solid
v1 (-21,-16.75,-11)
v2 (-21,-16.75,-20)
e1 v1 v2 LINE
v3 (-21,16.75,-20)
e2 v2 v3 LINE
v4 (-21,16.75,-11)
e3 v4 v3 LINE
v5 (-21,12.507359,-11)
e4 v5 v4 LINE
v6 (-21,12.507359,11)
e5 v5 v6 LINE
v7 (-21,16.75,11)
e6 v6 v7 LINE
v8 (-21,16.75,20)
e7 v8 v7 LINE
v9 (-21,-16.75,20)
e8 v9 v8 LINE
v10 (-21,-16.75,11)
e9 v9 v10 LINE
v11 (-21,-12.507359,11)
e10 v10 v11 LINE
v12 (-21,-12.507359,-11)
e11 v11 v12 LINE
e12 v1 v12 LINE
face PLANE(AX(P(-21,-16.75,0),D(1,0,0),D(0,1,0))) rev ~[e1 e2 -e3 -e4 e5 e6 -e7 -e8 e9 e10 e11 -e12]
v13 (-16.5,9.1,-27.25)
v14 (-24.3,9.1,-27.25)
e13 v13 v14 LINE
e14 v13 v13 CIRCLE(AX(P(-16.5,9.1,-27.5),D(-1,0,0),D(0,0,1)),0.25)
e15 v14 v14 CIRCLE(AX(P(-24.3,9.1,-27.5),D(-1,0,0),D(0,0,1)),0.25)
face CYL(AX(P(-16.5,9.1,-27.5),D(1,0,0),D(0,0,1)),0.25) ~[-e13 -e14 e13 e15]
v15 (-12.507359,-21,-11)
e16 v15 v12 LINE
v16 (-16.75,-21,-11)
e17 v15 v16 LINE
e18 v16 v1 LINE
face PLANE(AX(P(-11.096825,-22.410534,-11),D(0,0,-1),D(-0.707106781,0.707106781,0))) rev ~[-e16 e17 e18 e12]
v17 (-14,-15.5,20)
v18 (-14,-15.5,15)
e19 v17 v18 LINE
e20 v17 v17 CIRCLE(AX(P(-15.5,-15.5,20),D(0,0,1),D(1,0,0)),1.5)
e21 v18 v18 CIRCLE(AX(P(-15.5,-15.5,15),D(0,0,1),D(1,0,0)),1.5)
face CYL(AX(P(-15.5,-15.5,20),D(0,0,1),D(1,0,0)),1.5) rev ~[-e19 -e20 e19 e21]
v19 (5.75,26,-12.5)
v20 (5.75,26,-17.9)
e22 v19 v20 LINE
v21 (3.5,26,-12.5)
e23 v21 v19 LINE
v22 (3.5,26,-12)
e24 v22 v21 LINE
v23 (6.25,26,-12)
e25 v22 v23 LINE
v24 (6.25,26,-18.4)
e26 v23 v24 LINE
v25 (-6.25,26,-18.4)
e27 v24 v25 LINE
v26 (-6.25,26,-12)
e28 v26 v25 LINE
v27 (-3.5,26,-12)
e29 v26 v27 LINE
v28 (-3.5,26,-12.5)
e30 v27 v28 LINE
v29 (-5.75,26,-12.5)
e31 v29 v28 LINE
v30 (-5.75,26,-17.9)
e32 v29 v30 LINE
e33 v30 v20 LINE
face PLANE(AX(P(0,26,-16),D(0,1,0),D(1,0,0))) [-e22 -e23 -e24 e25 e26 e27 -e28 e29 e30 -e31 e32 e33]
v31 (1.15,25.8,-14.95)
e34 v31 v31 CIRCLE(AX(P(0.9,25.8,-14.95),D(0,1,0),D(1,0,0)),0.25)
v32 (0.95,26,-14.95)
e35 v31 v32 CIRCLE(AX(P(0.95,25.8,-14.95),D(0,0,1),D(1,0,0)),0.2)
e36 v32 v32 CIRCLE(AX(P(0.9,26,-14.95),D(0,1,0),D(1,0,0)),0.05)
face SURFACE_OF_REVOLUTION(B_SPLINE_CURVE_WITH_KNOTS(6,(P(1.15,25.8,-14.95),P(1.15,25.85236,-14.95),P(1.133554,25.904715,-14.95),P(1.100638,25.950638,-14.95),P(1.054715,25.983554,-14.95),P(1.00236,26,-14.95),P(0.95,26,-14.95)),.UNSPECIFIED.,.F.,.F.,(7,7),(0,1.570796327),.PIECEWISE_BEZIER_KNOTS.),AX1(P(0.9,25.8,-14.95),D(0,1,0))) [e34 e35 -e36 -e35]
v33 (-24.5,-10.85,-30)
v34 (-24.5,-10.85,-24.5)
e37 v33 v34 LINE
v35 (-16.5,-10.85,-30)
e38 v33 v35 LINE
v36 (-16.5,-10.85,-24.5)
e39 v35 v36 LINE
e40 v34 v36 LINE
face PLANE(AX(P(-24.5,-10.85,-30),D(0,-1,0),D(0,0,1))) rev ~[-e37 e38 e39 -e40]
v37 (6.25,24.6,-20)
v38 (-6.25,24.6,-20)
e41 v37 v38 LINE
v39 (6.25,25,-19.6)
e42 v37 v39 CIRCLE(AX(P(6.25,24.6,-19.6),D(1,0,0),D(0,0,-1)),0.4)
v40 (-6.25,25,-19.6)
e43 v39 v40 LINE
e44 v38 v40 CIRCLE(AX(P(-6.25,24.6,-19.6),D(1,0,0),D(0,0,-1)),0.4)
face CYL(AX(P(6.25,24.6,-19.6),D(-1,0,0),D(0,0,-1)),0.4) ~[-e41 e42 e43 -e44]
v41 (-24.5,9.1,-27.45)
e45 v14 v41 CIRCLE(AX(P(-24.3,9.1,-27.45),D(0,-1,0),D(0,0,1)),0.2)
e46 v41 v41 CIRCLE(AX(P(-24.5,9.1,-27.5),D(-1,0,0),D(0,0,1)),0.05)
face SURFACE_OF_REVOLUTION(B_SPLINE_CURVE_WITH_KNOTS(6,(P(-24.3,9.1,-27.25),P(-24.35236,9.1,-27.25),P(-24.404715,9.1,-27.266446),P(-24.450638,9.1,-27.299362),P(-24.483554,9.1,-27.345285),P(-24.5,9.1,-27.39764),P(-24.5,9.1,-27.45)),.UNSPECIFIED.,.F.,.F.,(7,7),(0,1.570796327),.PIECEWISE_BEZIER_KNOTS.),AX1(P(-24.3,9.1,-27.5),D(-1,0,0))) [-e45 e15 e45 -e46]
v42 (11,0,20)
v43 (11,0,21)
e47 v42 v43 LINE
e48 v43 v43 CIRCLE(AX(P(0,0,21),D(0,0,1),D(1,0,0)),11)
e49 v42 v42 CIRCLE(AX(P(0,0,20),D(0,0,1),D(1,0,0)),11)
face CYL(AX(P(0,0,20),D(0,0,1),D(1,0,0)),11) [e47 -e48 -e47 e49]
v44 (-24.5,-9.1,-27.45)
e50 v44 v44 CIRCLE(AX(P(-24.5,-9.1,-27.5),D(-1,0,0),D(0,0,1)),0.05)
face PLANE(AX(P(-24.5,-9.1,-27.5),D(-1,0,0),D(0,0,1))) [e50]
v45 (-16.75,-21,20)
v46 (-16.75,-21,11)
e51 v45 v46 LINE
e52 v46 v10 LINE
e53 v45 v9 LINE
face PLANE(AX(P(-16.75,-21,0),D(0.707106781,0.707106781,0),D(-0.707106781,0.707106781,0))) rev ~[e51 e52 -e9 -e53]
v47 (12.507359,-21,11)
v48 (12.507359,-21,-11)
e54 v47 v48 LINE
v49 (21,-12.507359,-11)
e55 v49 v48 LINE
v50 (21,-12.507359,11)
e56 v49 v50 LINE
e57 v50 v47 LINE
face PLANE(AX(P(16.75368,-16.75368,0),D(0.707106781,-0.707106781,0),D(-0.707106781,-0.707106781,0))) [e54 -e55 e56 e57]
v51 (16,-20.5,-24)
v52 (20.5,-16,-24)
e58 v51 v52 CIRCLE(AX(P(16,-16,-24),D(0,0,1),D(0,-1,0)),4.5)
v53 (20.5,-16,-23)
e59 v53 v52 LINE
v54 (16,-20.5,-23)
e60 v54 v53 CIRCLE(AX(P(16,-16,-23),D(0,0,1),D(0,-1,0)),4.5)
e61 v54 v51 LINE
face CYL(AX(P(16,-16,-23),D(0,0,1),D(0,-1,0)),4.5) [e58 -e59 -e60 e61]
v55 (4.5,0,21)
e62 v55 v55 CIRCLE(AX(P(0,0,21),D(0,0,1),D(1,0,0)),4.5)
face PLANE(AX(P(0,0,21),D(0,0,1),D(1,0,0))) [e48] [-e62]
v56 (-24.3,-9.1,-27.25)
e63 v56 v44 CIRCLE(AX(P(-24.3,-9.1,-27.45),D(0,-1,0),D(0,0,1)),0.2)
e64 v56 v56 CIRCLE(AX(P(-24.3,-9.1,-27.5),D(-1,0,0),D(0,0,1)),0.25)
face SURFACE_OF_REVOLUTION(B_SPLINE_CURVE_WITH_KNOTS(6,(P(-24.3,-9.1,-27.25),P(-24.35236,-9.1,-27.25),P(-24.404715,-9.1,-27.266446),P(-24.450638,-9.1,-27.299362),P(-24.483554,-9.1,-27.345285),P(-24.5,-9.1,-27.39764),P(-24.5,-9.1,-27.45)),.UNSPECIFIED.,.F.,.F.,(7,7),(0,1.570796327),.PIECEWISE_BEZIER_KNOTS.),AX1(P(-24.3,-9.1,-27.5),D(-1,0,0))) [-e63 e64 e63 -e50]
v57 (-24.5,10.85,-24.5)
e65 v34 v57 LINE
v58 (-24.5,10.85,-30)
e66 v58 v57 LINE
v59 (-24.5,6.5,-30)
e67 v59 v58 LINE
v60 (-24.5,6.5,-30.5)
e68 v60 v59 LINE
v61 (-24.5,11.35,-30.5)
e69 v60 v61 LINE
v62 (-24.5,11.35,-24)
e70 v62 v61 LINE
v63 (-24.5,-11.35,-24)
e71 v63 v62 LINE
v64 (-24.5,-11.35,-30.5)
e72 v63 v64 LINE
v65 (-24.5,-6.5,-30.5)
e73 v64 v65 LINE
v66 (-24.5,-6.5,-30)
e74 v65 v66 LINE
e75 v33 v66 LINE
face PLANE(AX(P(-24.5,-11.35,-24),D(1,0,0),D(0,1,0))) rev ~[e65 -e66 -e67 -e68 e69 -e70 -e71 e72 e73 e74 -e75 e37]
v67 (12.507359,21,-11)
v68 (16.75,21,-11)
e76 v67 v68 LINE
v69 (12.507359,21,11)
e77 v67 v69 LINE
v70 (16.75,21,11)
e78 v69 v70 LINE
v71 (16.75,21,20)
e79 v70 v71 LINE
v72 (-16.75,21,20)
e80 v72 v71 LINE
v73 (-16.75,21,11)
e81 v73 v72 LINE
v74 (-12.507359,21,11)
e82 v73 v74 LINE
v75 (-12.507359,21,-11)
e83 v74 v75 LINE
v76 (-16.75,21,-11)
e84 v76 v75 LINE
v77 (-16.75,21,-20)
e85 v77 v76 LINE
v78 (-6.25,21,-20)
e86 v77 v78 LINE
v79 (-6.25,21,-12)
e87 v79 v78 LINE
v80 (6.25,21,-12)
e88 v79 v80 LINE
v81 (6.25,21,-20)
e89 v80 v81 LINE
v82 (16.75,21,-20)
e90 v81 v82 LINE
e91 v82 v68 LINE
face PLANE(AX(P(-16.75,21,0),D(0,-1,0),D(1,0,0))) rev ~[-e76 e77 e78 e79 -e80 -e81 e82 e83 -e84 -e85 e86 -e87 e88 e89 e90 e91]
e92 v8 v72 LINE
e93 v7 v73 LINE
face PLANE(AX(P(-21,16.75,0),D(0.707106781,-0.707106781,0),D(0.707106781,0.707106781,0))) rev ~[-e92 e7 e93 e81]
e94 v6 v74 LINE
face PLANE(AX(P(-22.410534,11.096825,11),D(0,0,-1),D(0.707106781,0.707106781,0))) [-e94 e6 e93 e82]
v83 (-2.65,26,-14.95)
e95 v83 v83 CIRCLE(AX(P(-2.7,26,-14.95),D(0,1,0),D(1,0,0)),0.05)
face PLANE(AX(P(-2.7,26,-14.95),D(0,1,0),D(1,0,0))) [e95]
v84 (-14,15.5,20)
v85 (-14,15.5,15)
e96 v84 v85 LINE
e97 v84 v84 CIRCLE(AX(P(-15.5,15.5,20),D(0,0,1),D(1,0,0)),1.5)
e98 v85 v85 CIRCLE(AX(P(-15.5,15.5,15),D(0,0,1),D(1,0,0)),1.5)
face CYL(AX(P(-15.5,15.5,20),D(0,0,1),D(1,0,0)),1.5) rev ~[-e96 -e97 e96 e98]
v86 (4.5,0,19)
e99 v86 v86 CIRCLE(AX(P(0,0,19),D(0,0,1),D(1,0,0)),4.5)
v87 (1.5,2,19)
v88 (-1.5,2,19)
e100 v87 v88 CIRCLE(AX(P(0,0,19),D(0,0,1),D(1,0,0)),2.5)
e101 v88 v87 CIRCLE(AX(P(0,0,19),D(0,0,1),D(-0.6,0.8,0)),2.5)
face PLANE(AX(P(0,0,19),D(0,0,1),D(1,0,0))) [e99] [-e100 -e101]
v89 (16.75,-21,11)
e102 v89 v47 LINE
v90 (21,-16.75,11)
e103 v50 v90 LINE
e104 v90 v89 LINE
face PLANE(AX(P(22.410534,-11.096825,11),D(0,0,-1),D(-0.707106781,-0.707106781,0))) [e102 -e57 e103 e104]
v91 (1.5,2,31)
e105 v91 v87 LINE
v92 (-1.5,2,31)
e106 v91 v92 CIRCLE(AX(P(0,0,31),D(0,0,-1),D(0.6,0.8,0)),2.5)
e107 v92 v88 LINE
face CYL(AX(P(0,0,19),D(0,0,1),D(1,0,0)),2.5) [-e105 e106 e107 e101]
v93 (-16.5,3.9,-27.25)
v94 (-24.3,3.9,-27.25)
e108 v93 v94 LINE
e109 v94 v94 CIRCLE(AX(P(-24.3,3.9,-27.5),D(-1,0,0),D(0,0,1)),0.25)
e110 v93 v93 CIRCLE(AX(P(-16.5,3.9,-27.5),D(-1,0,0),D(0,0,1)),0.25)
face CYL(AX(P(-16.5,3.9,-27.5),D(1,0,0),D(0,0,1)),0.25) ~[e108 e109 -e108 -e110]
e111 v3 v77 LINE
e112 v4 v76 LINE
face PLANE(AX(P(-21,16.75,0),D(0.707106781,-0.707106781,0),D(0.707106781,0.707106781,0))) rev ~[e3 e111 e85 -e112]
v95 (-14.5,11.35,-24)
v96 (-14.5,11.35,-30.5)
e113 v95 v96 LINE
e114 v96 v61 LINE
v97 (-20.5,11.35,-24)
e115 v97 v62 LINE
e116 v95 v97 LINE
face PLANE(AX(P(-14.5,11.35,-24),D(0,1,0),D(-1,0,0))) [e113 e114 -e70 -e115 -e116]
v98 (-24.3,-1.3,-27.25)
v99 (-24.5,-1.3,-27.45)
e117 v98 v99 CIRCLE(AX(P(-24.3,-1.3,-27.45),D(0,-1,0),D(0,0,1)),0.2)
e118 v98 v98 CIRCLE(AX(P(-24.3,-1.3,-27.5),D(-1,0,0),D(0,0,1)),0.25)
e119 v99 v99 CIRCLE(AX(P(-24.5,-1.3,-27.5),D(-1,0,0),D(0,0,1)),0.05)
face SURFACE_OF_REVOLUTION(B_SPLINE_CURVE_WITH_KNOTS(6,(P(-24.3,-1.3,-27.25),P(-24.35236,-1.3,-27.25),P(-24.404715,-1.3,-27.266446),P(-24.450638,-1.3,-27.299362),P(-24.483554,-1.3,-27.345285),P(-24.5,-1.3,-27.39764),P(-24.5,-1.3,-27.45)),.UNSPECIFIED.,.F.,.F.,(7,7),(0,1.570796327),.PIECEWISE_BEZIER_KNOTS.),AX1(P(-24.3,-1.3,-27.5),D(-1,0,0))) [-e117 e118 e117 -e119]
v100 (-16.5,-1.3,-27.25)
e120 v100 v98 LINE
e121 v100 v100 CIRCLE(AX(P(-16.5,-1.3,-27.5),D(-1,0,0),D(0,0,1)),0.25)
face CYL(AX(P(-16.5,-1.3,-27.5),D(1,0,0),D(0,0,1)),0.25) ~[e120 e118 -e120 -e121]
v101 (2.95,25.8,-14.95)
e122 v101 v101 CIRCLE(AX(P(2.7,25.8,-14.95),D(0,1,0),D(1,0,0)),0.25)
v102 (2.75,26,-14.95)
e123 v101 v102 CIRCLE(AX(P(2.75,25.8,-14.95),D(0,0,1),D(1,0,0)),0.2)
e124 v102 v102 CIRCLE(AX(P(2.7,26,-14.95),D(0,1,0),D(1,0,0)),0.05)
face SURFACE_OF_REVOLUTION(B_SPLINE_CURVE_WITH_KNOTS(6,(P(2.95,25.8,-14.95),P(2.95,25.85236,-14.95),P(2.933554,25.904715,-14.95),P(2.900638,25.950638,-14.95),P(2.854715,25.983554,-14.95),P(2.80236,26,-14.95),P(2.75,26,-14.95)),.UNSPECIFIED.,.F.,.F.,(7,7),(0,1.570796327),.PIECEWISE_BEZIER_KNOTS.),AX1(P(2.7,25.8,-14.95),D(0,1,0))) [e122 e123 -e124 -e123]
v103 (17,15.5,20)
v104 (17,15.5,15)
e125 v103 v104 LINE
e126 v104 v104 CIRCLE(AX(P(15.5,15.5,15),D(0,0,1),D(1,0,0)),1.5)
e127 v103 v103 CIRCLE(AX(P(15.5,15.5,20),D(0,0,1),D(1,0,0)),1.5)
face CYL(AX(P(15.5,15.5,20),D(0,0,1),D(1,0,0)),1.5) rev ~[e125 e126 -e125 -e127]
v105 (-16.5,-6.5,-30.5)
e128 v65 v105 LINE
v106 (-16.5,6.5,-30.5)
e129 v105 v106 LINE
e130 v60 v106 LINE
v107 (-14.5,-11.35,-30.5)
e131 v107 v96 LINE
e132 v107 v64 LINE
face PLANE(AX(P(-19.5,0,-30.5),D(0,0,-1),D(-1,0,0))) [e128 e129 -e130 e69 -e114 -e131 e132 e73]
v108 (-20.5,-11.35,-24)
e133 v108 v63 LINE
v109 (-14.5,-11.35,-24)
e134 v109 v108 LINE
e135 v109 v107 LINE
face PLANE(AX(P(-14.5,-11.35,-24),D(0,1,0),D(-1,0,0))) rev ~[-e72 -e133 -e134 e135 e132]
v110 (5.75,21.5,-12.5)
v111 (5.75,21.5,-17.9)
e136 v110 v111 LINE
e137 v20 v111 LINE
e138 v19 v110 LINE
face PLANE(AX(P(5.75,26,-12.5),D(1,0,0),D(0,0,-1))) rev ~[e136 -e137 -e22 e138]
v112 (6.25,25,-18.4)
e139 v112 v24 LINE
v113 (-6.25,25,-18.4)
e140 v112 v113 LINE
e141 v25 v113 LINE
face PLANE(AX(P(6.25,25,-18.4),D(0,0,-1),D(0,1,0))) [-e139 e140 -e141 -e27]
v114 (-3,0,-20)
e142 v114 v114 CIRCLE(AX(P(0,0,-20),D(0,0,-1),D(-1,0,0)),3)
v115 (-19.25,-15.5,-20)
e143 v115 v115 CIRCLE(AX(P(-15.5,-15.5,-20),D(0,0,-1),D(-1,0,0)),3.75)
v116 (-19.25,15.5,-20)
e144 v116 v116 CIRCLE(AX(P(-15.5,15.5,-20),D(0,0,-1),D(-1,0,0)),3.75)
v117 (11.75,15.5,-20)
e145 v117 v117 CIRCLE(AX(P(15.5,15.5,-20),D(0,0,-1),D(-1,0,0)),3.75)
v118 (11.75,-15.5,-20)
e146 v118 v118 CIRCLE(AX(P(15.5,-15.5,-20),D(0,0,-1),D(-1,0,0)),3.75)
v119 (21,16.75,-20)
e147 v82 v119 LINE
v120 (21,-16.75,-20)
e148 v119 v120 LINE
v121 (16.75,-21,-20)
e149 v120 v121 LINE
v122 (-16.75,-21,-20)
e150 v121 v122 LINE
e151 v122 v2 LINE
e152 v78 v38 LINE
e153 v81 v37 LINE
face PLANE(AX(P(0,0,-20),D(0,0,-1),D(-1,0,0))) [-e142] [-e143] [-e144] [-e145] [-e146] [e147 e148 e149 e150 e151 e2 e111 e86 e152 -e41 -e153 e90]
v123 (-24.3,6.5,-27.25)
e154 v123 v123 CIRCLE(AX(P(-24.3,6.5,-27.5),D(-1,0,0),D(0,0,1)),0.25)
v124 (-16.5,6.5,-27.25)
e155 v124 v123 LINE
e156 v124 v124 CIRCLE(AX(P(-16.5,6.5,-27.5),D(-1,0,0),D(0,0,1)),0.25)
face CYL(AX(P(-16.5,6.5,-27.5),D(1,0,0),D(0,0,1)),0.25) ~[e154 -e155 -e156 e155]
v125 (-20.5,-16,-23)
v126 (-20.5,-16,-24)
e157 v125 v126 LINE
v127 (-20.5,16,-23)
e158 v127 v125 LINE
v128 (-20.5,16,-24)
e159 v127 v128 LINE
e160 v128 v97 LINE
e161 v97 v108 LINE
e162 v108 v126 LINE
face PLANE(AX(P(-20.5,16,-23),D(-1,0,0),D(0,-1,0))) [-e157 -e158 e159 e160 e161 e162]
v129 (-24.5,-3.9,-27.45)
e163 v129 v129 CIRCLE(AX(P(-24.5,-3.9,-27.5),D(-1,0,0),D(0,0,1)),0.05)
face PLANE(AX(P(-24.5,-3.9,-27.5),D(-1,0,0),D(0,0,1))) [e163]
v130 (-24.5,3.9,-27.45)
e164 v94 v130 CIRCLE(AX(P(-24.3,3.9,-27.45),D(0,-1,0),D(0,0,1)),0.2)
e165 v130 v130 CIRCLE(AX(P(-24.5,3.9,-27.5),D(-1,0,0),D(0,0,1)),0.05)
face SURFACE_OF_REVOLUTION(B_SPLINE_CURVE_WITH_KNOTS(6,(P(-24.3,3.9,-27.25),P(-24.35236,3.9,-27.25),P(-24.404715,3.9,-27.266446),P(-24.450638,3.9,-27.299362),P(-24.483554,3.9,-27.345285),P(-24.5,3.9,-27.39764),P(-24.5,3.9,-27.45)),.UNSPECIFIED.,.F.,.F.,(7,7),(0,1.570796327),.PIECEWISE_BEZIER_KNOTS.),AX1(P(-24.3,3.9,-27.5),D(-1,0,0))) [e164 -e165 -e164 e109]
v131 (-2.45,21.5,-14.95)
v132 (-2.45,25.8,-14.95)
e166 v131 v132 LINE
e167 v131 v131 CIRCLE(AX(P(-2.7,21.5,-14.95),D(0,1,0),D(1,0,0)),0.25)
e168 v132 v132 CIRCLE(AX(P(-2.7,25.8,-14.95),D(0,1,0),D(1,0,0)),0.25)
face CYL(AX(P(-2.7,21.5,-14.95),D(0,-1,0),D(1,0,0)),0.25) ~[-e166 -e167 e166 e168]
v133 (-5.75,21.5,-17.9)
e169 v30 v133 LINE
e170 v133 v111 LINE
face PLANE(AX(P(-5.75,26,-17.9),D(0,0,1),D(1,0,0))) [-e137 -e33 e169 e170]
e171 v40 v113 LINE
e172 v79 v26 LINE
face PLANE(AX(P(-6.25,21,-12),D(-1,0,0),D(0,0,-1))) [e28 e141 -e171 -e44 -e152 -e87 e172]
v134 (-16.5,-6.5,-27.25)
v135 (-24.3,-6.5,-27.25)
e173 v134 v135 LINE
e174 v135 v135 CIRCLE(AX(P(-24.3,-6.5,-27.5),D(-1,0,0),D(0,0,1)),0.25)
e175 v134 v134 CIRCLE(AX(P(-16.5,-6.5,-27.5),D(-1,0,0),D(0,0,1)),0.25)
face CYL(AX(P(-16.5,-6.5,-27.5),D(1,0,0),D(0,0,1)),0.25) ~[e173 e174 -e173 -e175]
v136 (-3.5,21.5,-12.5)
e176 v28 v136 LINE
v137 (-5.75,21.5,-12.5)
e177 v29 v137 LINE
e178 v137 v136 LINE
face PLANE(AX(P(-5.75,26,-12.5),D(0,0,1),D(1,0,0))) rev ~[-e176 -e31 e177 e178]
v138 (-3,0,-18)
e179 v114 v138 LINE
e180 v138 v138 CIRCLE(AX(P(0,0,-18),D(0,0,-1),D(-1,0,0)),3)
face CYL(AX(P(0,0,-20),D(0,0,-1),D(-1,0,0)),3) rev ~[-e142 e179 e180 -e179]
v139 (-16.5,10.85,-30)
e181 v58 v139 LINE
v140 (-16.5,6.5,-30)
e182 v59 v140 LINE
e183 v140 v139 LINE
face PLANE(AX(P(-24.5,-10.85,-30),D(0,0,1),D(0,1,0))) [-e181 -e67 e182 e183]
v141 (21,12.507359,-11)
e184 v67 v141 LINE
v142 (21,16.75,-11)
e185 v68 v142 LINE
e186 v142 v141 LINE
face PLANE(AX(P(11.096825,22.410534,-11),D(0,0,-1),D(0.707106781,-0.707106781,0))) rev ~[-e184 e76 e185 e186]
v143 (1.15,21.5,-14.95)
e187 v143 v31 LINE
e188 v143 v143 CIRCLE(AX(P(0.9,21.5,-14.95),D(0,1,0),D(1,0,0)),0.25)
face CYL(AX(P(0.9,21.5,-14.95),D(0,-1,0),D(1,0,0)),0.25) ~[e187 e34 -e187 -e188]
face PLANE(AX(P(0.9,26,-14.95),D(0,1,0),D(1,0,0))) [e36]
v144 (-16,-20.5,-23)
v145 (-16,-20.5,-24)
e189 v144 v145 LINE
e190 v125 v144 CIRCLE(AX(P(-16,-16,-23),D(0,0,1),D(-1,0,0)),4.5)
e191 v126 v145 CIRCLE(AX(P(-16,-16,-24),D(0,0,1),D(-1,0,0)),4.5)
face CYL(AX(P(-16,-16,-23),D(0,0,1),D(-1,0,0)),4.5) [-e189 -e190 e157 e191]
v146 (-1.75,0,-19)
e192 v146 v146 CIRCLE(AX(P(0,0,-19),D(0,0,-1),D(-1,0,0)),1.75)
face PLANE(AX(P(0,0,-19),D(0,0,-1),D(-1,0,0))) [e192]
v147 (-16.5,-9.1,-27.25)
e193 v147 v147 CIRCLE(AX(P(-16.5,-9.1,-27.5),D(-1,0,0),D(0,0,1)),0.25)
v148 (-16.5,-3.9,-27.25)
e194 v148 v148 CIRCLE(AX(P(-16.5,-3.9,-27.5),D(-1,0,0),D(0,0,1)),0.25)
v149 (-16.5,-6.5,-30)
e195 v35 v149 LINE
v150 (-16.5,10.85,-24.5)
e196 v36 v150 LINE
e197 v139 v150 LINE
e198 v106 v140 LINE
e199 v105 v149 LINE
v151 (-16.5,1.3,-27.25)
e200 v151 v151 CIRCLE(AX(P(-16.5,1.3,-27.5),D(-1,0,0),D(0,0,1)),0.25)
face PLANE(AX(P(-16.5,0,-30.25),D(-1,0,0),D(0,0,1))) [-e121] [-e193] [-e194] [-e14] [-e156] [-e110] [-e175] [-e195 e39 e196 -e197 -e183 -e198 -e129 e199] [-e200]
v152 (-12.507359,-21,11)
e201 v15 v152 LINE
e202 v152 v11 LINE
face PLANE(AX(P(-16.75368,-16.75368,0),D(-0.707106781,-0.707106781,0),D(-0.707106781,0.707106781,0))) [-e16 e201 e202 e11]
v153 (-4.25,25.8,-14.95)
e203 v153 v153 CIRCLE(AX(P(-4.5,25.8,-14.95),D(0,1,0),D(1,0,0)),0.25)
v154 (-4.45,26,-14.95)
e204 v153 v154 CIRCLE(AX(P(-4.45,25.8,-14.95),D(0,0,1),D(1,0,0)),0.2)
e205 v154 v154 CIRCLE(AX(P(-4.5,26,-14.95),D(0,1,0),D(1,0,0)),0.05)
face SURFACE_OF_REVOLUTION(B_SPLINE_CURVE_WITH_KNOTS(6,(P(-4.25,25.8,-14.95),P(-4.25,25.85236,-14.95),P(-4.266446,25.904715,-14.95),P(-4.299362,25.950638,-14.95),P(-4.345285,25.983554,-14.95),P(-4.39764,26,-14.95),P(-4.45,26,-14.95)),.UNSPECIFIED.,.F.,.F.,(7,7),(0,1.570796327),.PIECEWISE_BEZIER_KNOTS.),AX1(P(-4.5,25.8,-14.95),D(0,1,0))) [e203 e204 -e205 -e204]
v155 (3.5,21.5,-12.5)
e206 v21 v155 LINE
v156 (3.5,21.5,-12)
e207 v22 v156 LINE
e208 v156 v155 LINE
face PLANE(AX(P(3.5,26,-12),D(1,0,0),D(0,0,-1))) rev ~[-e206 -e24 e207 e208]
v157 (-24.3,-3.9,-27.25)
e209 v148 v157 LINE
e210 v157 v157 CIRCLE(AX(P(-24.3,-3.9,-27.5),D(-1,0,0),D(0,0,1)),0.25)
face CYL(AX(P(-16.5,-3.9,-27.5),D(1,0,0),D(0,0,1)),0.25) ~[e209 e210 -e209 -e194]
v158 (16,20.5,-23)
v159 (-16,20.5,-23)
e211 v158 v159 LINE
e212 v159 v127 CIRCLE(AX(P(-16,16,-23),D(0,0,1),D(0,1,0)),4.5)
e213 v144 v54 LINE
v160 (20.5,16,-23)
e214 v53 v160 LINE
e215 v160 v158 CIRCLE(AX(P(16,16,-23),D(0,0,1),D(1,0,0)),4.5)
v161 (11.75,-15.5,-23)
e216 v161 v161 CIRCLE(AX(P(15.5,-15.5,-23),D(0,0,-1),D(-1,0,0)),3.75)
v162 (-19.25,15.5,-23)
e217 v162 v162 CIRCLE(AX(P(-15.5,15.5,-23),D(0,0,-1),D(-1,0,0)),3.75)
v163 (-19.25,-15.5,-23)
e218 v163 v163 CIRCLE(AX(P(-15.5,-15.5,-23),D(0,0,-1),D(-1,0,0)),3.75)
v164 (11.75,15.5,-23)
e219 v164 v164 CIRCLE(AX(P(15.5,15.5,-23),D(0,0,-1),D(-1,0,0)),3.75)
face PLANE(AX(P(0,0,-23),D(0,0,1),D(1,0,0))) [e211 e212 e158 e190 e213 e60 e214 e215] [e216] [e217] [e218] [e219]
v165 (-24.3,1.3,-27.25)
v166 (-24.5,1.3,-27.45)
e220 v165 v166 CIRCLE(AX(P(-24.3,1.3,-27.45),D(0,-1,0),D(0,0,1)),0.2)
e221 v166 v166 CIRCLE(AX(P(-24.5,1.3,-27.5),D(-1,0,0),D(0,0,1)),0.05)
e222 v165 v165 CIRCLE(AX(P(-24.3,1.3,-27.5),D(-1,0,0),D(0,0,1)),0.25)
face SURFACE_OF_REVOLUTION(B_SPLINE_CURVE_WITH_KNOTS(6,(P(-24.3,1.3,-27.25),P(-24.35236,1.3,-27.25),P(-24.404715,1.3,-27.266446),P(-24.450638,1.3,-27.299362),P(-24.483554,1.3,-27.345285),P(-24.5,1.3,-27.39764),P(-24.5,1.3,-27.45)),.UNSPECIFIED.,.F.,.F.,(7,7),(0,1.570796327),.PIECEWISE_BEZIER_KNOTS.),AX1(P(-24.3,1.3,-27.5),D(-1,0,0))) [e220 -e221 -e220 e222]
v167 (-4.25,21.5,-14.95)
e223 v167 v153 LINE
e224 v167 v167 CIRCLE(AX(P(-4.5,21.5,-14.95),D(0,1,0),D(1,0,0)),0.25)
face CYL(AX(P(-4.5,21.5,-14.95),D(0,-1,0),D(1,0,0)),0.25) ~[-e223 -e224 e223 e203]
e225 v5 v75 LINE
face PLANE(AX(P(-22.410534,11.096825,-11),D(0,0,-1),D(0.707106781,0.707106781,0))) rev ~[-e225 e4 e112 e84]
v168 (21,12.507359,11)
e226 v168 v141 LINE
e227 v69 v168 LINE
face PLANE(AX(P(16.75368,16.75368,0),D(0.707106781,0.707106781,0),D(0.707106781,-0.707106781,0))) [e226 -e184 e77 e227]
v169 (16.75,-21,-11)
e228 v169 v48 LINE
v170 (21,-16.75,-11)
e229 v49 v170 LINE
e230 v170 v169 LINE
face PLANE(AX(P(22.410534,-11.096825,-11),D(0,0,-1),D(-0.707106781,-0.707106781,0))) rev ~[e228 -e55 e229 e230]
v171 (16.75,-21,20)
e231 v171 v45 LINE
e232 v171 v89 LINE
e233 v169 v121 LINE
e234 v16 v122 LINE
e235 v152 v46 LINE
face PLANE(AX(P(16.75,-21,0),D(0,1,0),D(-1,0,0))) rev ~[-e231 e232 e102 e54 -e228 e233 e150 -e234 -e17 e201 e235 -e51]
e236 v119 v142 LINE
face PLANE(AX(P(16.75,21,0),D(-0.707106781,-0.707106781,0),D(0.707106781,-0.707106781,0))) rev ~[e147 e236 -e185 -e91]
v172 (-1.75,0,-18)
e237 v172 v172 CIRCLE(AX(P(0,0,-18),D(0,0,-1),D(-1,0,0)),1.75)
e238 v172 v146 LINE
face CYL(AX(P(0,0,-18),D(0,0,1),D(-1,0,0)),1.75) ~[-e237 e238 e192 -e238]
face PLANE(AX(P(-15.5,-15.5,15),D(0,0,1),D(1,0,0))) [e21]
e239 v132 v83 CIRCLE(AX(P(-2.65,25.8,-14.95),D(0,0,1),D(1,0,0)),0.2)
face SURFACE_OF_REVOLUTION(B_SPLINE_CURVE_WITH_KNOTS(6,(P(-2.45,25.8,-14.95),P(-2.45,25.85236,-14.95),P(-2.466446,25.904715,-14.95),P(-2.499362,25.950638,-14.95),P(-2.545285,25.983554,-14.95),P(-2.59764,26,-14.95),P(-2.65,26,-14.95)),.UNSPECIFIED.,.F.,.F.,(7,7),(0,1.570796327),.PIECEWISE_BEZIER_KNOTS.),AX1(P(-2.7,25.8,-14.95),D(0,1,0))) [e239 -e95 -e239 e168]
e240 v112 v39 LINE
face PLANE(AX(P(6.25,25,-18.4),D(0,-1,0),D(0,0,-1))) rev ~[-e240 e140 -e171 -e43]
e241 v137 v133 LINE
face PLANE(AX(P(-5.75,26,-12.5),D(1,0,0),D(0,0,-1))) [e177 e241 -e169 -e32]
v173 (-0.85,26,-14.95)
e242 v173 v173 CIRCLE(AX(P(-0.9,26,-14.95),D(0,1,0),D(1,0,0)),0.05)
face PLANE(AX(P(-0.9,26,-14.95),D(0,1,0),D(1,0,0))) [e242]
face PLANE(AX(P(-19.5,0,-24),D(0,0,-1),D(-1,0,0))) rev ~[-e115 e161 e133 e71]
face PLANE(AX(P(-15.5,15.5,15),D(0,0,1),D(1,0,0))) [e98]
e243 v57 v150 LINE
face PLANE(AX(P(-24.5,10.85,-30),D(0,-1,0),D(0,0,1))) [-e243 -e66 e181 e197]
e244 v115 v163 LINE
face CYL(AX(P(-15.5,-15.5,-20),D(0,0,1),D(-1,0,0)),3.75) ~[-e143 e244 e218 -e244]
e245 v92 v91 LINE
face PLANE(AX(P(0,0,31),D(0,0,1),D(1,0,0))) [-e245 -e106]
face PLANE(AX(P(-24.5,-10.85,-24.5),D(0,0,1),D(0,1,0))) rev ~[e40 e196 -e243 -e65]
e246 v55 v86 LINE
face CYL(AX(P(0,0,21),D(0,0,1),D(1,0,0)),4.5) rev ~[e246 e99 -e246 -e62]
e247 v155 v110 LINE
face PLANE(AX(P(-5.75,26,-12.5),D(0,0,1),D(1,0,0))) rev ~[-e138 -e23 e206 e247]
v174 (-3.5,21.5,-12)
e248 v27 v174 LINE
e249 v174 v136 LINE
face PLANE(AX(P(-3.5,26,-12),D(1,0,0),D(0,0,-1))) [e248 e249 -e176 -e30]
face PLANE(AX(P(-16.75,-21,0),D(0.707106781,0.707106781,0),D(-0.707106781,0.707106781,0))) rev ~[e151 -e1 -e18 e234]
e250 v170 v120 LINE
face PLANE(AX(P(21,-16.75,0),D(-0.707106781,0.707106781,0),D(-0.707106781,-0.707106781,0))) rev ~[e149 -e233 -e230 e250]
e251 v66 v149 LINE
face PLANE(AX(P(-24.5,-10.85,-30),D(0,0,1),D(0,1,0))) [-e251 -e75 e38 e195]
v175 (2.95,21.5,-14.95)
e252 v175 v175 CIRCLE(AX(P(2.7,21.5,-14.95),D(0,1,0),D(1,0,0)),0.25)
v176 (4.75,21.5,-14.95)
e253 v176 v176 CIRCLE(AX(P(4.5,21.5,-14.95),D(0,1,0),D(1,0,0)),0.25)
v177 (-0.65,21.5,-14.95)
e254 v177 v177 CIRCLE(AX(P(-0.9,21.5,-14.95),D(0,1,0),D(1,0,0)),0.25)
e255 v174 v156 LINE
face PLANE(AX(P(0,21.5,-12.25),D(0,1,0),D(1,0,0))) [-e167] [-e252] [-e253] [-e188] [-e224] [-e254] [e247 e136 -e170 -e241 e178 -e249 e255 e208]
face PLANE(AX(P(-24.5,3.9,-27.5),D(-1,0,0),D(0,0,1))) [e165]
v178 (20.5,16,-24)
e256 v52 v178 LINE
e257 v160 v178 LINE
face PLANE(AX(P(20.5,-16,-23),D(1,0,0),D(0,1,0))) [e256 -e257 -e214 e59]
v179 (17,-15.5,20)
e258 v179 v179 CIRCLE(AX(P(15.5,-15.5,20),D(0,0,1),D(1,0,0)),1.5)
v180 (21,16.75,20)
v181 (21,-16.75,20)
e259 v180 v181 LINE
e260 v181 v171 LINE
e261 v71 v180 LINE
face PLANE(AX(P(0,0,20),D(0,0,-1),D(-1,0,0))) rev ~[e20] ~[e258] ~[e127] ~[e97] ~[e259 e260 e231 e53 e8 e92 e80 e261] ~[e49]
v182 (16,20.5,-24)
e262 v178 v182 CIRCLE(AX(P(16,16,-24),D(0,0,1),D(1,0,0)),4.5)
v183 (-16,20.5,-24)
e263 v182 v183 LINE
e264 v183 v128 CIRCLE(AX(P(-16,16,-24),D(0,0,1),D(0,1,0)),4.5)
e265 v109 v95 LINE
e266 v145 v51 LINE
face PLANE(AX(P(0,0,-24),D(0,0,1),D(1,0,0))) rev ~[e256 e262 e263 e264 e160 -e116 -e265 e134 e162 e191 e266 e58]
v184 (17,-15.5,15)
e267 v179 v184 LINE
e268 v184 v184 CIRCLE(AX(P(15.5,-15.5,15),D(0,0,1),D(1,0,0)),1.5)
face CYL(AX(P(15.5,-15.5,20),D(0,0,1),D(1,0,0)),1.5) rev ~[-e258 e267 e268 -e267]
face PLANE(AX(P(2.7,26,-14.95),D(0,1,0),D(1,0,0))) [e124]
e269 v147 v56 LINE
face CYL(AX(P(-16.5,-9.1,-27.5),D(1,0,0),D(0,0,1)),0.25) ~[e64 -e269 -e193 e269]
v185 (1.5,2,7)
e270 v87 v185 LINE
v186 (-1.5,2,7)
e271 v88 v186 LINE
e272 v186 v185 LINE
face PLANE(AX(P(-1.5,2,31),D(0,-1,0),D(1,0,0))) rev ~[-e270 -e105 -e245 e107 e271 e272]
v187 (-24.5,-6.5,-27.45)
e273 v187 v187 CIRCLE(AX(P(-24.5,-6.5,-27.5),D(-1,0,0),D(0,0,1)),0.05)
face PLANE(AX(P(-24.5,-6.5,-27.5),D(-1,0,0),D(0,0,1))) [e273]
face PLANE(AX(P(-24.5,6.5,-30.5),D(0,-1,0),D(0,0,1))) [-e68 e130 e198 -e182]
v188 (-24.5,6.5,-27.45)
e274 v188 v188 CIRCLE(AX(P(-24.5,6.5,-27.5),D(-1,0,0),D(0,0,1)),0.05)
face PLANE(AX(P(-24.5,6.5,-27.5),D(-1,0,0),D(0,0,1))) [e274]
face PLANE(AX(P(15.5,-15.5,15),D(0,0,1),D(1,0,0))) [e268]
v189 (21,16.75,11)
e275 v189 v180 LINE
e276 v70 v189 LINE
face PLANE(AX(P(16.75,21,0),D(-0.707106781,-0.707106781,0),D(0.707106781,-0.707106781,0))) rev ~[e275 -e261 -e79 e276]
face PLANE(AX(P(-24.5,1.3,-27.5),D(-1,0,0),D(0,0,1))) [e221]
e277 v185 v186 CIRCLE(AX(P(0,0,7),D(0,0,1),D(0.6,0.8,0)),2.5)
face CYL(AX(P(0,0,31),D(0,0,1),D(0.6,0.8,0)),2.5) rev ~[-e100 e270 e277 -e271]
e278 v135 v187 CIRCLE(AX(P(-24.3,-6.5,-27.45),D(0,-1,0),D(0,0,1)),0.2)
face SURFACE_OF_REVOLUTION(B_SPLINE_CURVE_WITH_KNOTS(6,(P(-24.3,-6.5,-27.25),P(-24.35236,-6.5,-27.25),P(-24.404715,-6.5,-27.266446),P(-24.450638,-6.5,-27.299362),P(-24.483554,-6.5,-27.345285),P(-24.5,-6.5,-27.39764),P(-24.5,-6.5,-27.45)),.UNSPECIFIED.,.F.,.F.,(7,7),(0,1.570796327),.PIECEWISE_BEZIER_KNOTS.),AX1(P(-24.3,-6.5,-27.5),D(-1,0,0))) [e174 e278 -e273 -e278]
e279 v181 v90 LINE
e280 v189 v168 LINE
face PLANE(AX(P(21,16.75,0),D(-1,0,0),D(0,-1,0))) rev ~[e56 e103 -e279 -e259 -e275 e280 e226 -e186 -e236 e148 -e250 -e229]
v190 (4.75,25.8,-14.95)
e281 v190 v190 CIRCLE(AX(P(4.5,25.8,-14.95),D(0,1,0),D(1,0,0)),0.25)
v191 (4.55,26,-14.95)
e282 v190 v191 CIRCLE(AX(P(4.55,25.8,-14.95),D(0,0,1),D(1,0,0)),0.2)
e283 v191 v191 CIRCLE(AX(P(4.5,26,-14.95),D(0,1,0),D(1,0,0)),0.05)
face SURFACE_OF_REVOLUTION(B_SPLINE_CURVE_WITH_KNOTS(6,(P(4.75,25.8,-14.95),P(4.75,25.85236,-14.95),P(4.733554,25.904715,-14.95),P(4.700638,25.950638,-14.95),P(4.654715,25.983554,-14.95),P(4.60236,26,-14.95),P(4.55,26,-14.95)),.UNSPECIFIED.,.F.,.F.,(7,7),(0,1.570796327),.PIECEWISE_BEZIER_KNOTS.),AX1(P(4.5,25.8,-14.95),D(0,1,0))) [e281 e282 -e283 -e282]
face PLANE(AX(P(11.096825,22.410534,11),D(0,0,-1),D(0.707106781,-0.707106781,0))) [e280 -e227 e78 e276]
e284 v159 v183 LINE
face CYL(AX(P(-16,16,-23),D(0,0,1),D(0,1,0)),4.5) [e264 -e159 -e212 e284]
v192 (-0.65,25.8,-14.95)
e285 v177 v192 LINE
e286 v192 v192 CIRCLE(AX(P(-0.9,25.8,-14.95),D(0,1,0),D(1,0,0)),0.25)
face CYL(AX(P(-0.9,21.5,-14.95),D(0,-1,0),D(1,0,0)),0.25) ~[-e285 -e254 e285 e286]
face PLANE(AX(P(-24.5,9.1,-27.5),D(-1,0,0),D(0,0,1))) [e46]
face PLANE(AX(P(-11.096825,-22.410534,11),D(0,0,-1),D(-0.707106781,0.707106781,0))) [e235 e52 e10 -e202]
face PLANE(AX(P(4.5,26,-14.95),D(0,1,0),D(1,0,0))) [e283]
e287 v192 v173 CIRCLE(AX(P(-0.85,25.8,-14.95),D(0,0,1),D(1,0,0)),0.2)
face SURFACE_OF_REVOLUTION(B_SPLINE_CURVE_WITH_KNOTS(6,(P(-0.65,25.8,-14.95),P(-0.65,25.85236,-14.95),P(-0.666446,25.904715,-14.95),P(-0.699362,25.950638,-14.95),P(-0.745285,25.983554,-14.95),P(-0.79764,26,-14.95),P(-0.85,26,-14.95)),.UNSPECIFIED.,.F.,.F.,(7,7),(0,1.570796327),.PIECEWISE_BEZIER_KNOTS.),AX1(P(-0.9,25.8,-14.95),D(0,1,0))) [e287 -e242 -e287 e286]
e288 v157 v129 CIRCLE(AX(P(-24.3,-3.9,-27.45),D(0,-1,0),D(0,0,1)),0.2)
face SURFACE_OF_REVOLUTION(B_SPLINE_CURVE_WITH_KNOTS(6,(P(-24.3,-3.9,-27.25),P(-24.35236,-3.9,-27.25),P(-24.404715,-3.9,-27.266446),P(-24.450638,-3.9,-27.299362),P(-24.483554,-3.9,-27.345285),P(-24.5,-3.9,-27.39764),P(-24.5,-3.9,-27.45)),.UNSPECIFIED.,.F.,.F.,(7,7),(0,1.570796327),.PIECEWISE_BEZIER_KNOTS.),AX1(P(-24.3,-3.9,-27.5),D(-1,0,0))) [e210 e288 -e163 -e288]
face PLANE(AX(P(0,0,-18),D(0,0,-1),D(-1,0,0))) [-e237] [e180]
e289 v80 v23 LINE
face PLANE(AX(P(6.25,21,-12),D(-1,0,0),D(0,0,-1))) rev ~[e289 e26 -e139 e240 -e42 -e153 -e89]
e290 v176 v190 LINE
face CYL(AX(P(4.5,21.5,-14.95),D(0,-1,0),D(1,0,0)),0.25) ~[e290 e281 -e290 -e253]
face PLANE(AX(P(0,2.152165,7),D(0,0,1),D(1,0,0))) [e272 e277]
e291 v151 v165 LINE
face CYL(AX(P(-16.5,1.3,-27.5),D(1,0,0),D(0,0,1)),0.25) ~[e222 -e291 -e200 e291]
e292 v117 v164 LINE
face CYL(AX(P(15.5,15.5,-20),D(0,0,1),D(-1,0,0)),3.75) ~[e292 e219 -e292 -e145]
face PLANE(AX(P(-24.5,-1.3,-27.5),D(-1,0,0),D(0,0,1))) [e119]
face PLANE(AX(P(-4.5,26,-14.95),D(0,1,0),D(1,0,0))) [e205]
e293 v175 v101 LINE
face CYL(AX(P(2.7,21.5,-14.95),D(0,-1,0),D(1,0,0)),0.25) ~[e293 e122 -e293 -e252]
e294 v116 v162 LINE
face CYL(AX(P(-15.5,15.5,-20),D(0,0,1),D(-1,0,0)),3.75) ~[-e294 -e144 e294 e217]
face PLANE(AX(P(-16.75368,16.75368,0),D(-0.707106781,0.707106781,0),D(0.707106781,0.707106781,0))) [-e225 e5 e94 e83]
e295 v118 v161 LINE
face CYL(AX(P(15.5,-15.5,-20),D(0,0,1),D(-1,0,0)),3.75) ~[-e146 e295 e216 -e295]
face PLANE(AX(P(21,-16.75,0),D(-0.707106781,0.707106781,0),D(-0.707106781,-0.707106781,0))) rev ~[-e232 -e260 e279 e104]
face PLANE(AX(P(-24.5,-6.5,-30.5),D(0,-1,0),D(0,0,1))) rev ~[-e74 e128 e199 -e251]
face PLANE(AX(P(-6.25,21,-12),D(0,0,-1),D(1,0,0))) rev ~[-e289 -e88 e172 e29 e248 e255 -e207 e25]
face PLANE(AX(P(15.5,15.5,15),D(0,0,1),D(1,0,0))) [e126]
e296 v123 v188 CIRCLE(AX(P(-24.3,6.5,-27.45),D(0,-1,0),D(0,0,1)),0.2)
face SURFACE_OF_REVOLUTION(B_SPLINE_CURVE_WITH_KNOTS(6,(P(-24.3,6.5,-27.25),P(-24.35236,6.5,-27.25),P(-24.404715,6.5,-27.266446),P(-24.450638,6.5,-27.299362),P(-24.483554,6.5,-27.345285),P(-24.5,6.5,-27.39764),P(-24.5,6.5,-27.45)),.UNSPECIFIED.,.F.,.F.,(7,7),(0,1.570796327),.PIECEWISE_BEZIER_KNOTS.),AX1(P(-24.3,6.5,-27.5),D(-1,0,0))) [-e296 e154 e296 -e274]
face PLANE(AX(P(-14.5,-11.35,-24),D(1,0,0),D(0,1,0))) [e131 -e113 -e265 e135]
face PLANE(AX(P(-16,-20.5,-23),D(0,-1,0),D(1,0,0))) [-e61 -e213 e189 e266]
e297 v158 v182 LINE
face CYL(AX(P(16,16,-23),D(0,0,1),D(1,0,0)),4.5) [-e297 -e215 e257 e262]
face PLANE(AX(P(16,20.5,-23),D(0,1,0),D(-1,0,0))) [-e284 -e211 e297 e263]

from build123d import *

# Parameters (mm, degrees)
EXTRUDE_1_DEPTH          = 20
SKETCH_3_R               = 11
EXTRUDE_2_DEPTH          = 1
SKETCH_4_R               = 4.5
CUT_EXTRUDE_1_DEPTH      = 2
SKETCH_5_R               = 2.5
EXTRUDE_3_DEPTH          = 12
CUT_EXTRUDE_2_DEPTH      = 24
SKETCH_7_R               = 3
CUT_EXTRUDE_3_DEPTH      = 2
SKETCH_8_R               = 1.75
EXTRUDE_4_DEPTH          = 1
SKETCH_9_R               = 1.5
CUT_EXTRUDE_4_DEPTH      = 5
SKETCH_13_W              = 16
SKETCH_13_H              = 22
CUT_EXTRUDE_5_DEPTH      = 62.738809959
PATTERN_CIRCULAR_1_COUNT = 4
SKETCH_12_R              = 3.75
EXTRUDE_5_DEPTH          = 3
EXTRUDE_START            = 3
EXTRUDE_6_DEPTH          = 1
SKETCH_17_W              = 12.5
SKETCH_17_H              = 8
EXTRUDE_7_DEPTH          = 5
SKETCH_20_W              = 1.6
SKETCH_20_H              = 1
CUT_EXTRUDE_6_DEPTH      = 49.780759527
FILLET_1_R               = 0.4
SKETCH_21_W              = 11.5
SKETCH_21_H              = 5.4
CUT_EXTRUDE_7_DEPTH      = 4.5
SKETCH_22_W              = 7
SKETCH_22_H              = 0.5
CUT_EXTRUDE_8_DEPTH      = 4.5
SKETCH_23_W              = 10
SKETCH_23_H              = 22.7
EXTRUDE_8_DEPTH          = 6.5
SKETCH_24_W              = 5.5
SKETCH_24_H              = 21.7
CUT_EXTRUDE_9_DEPTH      = 8
SKETCH_25_W              = 0.5
SKETCH_25_H              = 13
CUT_EXTRUDE_10_DEPTH     = 8
SKETCH_26_R              = 0.25
EXTRUDE_10_DEPTH         = 8
SKETCH_27_R              = 0.25
EXTRUDE_11_DEPTH         = 4.5
FILLET_2_R               = 0.2
FILLET_3_R               = 0.2


with BuildPart() as part:
    # 草图1 → 凸台-拉伸1 (new, symmetric)
    with BuildSketch(Plane.XY):
        Polygon((21, 16.75), (21, -16.75), (16.75, -21), (-16.75, -21), (-21, -16.75), (-21, 16.75), (-16.75, 21), (16.75, 21), align=None)
    extrude(amount=EXTRUDE_1_DEPTH, both=True)

    # 草图3 → 凸台-拉伸2 (add, symmetric)
    with BuildSketch(Plane.XY.offset(20)):
        Circle(SKETCH_3_R)
    extrude(amount=EXTRUDE_2_DEPTH, both=True)

    # 草图4 → 切除-拉伸1 (cut)
    with BuildSketch(Plane.XY.offset(21)):
        Circle(SKETCH_4_R)
    extrude(amount=-CUT_EXTRUDE_1_DEPTH, mode=Mode.SUBTRACT)

    # 草图5 → 凸台-拉伸3 (add, symmetric)
    with BuildSketch(Plane.XY.offset(19)):
        Circle(SKETCH_5_R)
    extrude(amount=EXTRUDE_3_DEPTH, both=True)

    # 草图6 → 切除-拉伸2 (cut)
    with BuildSketch(Plane.XY.offset(31)):
        with BuildLine():
            Line((-1.5, 2), (1.5, 2))
            ThreePointArc((1.5, 2), (0, 2.5), (-1.5, 2))
        make_face()
    extrude(amount=-CUT_EXTRUDE_2_DEPTH, mode=Mode.SUBTRACT)

    # 草图7 → 切除-拉伸3 (cut)
    with BuildSketch(Plane(origin=(0, 0, -20), x_dir=(-1, 0, 0), z_dir=(0, 0, -1))):
        Circle(SKETCH_7_R)
    extrude(amount=-CUT_EXTRUDE_3_DEPTH, mode=Mode.SUBTRACT)

    # 草图8 → 凸台-拉伸4 (add)
    with BuildSketch(Plane(origin=(0, 0, -18), x_dir=(-1, 0, 0), z_dir=(0, 0, -1))):
        Circle(SKETCH_8_R)
    extrude(amount=EXTRUDE_4_DEPTH)

    # 草图9 → 切除-拉伸4 (cut)
    with BuildSketch(Plane.XY.offset(20)):
        with Locations((15.5, 15.5)):
            Circle(SKETCH_9_R)
        with Locations((15.5, -15.5)):
            Circle(SKETCH_9_R)
        with Locations((-15.5, -15.5)):
            Circle(SKETCH_9_R)
        with Locations((-15.5, 15.5)):
            Circle(SKETCH_9_R)
    extrude(amount=-CUT_EXTRUDE_4_DEPTH, mode=Mode.SUBTRACT)

    # 草图13 → 切除-拉伸5 (cut, through all)
    with BuildSketch(Plane(origin=(16.753679656, 16.753679656, 0), x_dir=(0.707106781186548, -0.7071067811865471, 0), z_dir=(0.7071067811865471, 0.707106781186548, 0))):
        Rectangle(SKETCH_13_W, SKETCH_13_H)
    cut_extrude_5 = extrude(amount=CUT_EXTRUDE_5_DEPTH, mode=Mode.SUBTRACT)

    # 阵列(圆周)1: 切除-拉伸5 ×4 about axis
    pattern_circular_1_axis = Axis((0, 0, 0), (0, 0, 1))
    for i in range(1, PATTERN_CIRCULAR_1_COUNT):
        add(cut_extrude_5.rotate(pattern_circular_1_axis, i * 360 / PATTERN_CIRCULAR_1_COUNT), mode=Mode.SUBTRACT)

    # 草图12 → 凸台-拉伸5 (add)
    with BuildSketch(Plane(origin=(0, 0, -20), x_dir=(-1, 0, 0), z_dir=(0, 0, -1))):
        with Locations((15.5, 15.5)):
            Circle(SKETCH_12_R)
        with Locations((15.5, -15.5)):
            Circle(SKETCH_12_R)
        with Locations((-15.5, -15.5)):
            Circle(SKETCH_12_R)
        with Locations((-15.5, 15.5)):
            Circle(SKETCH_12_R)
    extrude(amount=EXTRUDE_5_DEPTH)

    # 草图15 → 凸台-拉伸6 (add)
    with BuildSketch(Plane(origin=(0, 0, -20), x_dir=(-1, 0, 0), z_dir=(0, 0, -1)).offset(EXTRUDE_START)):
        with BuildLine():
            Line((-16, 20.5), (16, 20.5))
            ThreePointArc((16, 20.5), (19.181980515, 19.181980515), (20.5, 16))
            Line((20.5, 16), (20.5, -16))
            ThreePointArc((20.5, -16), (19.181980515, -19.181980515), (16, -20.5))
            Line((16, -20.5), (-16, -20.5))
            ThreePointArc((-16, -20.5), (-19.181980515, -19.181980515), (-20.5, -16))
            Line((-20.5, -16), (-20.5, 16))
            ThreePointArc((-20.5, 16), (-19.181980515, 19.181980515), (-16, 20.5))
        make_face()
    extrude(amount=EXTRUDE_6_DEPTH)

    # 草图17 → 凸台-拉伸7 (add)
    with BuildSketch(Plane(origin=(0, 21, 0), x_dir=(1, 0, 0), z_dir=(0, 1, 0))):
        with Locations((0, 16)):
            Rectangle(SKETCH_17_W, SKETCH_17_H)
    extrude(amount=EXTRUDE_7_DEPTH)

    # 草图20 → 切除-拉伸6 (cut, through all)
    with BuildSketch(Plane(origin=(6.25, 0, 0), x_dir=(0, 0, -1), z_dir=(1, 0, 0))):
        with Locations((19.2, 25.5)):
            Rectangle(SKETCH_20_W, SKETCH_20_H)
    extrude(amount=-CUT_EXTRUDE_6_DEPTH, mode=Mode.SUBTRACT)

    # 圆角1
    fillet_1_edges = [part.edges().sort_by_distance(p)[0] for p in [
        (0, 25, -20),
    ]]
    fillet(fillet_1_edges, radius=FILLET_1_R)

    # 草图21 → 切除-拉伸7 (cut)
    with BuildSketch(Plane(origin=(0, 26, 0), x_dir=(1, 0, 0), z_dir=(0, 1, 0))):
        with Locations((0, 15.2)):
            Rectangle(SKETCH_21_W, SKETCH_21_H)
    extrude(amount=-CUT_EXTRUDE_7_DEPTH, mode=Mode.SUBTRACT)

    # 草图22 → 切除-拉伸8 (cut)
    with BuildSketch(Plane(origin=(0, 26, 0), x_dir=(1, 0, 0), z_dir=(0, 1, 0))):
        with Locations((0, 12.25)):
            Rectangle(SKETCH_22_W, SKETCH_22_H)
    extrude(amount=-CUT_EXTRUDE_8_DEPTH, mode=Mode.SUBTRACT)

    # 草图23 → 凸台-拉伸8 (add)
    with BuildSketch(Plane(origin=(0, 0, -24), x_dir=(-1, 0, 0), z_dir=(0, 0, -1))):
        with Locations((19.5, 0)):
            Rectangle(SKETCH_23_W, SKETCH_23_H)
    extrude(amount=EXTRUDE_8_DEPTH)

    # 草图24 → 切除-拉伸9 (cut)
    with BuildSketch(Plane.ZY.offset(24.5)):
        with Locations((-27.25, 0)):
            Rectangle(SKETCH_24_W, SKETCH_24_H)
    extrude(amount=-CUT_EXTRUDE_9_DEPTH, mode=Mode.SUBTRACT)

    # 草图25 → 切除-拉伸10 (cut)
    with BuildSketch(Plane.ZY.offset(24.5)):
        with Locations((-30.25, 0)):
            Rectangle(SKETCH_25_W, SKETCH_25_H)
    extrude(amount=-CUT_EXTRUDE_10_DEPTH, mode=Mode.SUBTRACT)

    # 草图26 → 凸台-拉伸10 (add)
    with BuildSketch(Plane.ZY.offset(16.5)):
        with Locations((-27.5, 6.5)):
            Circle(SKETCH_26_R)
        with Locations((-27.5, 3.9)):
            Circle(SKETCH_26_R)
        with Locations((-27.5, 1.3)):
            Circle(SKETCH_26_R)
        with Locations((-27.5, 9.1)):
            Circle(SKETCH_26_R)
        with Locations((-27.5, -1.3)):
            Circle(SKETCH_26_R)
        with Locations((-27.5, -3.9)):
            Circle(SKETCH_26_R)
        with Locations((-27.5, -6.5)):
            Circle(SKETCH_26_R)
        with Locations((-27.5, -9.1)):
            Circle(SKETCH_26_R)
    extrude(amount=EXTRUDE_10_DEPTH)

    # 草图27 → 凸台-拉伸11 (add)
    with BuildSketch(Plane(origin=(0, 21.5, 0), x_dir=(1, 0, 0), z_dir=(0, 1, 0))):
        with Locations((0.9, 14.95)):
            Circle(SKETCH_27_R)
        with Locations((2.7, 14.95)):
            Circle(SKETCH_27_R)
        with Locations((4.5, 14.95)):
            Circle(SKETCH_27_R)
        with Locations((-4.5, 14.95)):
            Circle(SKETCH_27_R)
        with Locations((-2.7, 14.95)):
            Circle(SKETCH_27_R)
        with Locations((-0.9, 14.95)):
            Circle(SKETCH_27_R)
    extrude(amount=EXTRUDE_11_DEPTH)

    # 圆角2
    fillet_2_edges = [part.edges().sort_by_distance(p)[0] for p in [
        (-24.5, -9.1, -27.75),
        (-24.5, -6.5, -27.75),
        (-24.5, -3.9, -27.75),
        (-24.5, -1.3, -27.75),
        (-24.5, 1.3, -27.75),
        (-24.5, 3.9, -27.75),
        (-24.5, 6.5, -27.75),
        (-24.5, 9.1, -27.75),
    ]]
    fillet(fillet_2_edges, radius=FILLET_2_R)

    # 圆角3
    fillet_3_edges = [part.edges().sort_by_distance(p)[0] for p in [
        (-4.75, 26, -14.95),
        (-2.95, 26, -14.95),
        (-1.15, 26, -14.95),
        (0.65, 26, -14.95),
        (2.45, 26, -14.95),
        (4.25, 26, -14.95),
    ]]
    fillet(fillet_3_edges, radius=FILLET_3_R)


solid = part.part
